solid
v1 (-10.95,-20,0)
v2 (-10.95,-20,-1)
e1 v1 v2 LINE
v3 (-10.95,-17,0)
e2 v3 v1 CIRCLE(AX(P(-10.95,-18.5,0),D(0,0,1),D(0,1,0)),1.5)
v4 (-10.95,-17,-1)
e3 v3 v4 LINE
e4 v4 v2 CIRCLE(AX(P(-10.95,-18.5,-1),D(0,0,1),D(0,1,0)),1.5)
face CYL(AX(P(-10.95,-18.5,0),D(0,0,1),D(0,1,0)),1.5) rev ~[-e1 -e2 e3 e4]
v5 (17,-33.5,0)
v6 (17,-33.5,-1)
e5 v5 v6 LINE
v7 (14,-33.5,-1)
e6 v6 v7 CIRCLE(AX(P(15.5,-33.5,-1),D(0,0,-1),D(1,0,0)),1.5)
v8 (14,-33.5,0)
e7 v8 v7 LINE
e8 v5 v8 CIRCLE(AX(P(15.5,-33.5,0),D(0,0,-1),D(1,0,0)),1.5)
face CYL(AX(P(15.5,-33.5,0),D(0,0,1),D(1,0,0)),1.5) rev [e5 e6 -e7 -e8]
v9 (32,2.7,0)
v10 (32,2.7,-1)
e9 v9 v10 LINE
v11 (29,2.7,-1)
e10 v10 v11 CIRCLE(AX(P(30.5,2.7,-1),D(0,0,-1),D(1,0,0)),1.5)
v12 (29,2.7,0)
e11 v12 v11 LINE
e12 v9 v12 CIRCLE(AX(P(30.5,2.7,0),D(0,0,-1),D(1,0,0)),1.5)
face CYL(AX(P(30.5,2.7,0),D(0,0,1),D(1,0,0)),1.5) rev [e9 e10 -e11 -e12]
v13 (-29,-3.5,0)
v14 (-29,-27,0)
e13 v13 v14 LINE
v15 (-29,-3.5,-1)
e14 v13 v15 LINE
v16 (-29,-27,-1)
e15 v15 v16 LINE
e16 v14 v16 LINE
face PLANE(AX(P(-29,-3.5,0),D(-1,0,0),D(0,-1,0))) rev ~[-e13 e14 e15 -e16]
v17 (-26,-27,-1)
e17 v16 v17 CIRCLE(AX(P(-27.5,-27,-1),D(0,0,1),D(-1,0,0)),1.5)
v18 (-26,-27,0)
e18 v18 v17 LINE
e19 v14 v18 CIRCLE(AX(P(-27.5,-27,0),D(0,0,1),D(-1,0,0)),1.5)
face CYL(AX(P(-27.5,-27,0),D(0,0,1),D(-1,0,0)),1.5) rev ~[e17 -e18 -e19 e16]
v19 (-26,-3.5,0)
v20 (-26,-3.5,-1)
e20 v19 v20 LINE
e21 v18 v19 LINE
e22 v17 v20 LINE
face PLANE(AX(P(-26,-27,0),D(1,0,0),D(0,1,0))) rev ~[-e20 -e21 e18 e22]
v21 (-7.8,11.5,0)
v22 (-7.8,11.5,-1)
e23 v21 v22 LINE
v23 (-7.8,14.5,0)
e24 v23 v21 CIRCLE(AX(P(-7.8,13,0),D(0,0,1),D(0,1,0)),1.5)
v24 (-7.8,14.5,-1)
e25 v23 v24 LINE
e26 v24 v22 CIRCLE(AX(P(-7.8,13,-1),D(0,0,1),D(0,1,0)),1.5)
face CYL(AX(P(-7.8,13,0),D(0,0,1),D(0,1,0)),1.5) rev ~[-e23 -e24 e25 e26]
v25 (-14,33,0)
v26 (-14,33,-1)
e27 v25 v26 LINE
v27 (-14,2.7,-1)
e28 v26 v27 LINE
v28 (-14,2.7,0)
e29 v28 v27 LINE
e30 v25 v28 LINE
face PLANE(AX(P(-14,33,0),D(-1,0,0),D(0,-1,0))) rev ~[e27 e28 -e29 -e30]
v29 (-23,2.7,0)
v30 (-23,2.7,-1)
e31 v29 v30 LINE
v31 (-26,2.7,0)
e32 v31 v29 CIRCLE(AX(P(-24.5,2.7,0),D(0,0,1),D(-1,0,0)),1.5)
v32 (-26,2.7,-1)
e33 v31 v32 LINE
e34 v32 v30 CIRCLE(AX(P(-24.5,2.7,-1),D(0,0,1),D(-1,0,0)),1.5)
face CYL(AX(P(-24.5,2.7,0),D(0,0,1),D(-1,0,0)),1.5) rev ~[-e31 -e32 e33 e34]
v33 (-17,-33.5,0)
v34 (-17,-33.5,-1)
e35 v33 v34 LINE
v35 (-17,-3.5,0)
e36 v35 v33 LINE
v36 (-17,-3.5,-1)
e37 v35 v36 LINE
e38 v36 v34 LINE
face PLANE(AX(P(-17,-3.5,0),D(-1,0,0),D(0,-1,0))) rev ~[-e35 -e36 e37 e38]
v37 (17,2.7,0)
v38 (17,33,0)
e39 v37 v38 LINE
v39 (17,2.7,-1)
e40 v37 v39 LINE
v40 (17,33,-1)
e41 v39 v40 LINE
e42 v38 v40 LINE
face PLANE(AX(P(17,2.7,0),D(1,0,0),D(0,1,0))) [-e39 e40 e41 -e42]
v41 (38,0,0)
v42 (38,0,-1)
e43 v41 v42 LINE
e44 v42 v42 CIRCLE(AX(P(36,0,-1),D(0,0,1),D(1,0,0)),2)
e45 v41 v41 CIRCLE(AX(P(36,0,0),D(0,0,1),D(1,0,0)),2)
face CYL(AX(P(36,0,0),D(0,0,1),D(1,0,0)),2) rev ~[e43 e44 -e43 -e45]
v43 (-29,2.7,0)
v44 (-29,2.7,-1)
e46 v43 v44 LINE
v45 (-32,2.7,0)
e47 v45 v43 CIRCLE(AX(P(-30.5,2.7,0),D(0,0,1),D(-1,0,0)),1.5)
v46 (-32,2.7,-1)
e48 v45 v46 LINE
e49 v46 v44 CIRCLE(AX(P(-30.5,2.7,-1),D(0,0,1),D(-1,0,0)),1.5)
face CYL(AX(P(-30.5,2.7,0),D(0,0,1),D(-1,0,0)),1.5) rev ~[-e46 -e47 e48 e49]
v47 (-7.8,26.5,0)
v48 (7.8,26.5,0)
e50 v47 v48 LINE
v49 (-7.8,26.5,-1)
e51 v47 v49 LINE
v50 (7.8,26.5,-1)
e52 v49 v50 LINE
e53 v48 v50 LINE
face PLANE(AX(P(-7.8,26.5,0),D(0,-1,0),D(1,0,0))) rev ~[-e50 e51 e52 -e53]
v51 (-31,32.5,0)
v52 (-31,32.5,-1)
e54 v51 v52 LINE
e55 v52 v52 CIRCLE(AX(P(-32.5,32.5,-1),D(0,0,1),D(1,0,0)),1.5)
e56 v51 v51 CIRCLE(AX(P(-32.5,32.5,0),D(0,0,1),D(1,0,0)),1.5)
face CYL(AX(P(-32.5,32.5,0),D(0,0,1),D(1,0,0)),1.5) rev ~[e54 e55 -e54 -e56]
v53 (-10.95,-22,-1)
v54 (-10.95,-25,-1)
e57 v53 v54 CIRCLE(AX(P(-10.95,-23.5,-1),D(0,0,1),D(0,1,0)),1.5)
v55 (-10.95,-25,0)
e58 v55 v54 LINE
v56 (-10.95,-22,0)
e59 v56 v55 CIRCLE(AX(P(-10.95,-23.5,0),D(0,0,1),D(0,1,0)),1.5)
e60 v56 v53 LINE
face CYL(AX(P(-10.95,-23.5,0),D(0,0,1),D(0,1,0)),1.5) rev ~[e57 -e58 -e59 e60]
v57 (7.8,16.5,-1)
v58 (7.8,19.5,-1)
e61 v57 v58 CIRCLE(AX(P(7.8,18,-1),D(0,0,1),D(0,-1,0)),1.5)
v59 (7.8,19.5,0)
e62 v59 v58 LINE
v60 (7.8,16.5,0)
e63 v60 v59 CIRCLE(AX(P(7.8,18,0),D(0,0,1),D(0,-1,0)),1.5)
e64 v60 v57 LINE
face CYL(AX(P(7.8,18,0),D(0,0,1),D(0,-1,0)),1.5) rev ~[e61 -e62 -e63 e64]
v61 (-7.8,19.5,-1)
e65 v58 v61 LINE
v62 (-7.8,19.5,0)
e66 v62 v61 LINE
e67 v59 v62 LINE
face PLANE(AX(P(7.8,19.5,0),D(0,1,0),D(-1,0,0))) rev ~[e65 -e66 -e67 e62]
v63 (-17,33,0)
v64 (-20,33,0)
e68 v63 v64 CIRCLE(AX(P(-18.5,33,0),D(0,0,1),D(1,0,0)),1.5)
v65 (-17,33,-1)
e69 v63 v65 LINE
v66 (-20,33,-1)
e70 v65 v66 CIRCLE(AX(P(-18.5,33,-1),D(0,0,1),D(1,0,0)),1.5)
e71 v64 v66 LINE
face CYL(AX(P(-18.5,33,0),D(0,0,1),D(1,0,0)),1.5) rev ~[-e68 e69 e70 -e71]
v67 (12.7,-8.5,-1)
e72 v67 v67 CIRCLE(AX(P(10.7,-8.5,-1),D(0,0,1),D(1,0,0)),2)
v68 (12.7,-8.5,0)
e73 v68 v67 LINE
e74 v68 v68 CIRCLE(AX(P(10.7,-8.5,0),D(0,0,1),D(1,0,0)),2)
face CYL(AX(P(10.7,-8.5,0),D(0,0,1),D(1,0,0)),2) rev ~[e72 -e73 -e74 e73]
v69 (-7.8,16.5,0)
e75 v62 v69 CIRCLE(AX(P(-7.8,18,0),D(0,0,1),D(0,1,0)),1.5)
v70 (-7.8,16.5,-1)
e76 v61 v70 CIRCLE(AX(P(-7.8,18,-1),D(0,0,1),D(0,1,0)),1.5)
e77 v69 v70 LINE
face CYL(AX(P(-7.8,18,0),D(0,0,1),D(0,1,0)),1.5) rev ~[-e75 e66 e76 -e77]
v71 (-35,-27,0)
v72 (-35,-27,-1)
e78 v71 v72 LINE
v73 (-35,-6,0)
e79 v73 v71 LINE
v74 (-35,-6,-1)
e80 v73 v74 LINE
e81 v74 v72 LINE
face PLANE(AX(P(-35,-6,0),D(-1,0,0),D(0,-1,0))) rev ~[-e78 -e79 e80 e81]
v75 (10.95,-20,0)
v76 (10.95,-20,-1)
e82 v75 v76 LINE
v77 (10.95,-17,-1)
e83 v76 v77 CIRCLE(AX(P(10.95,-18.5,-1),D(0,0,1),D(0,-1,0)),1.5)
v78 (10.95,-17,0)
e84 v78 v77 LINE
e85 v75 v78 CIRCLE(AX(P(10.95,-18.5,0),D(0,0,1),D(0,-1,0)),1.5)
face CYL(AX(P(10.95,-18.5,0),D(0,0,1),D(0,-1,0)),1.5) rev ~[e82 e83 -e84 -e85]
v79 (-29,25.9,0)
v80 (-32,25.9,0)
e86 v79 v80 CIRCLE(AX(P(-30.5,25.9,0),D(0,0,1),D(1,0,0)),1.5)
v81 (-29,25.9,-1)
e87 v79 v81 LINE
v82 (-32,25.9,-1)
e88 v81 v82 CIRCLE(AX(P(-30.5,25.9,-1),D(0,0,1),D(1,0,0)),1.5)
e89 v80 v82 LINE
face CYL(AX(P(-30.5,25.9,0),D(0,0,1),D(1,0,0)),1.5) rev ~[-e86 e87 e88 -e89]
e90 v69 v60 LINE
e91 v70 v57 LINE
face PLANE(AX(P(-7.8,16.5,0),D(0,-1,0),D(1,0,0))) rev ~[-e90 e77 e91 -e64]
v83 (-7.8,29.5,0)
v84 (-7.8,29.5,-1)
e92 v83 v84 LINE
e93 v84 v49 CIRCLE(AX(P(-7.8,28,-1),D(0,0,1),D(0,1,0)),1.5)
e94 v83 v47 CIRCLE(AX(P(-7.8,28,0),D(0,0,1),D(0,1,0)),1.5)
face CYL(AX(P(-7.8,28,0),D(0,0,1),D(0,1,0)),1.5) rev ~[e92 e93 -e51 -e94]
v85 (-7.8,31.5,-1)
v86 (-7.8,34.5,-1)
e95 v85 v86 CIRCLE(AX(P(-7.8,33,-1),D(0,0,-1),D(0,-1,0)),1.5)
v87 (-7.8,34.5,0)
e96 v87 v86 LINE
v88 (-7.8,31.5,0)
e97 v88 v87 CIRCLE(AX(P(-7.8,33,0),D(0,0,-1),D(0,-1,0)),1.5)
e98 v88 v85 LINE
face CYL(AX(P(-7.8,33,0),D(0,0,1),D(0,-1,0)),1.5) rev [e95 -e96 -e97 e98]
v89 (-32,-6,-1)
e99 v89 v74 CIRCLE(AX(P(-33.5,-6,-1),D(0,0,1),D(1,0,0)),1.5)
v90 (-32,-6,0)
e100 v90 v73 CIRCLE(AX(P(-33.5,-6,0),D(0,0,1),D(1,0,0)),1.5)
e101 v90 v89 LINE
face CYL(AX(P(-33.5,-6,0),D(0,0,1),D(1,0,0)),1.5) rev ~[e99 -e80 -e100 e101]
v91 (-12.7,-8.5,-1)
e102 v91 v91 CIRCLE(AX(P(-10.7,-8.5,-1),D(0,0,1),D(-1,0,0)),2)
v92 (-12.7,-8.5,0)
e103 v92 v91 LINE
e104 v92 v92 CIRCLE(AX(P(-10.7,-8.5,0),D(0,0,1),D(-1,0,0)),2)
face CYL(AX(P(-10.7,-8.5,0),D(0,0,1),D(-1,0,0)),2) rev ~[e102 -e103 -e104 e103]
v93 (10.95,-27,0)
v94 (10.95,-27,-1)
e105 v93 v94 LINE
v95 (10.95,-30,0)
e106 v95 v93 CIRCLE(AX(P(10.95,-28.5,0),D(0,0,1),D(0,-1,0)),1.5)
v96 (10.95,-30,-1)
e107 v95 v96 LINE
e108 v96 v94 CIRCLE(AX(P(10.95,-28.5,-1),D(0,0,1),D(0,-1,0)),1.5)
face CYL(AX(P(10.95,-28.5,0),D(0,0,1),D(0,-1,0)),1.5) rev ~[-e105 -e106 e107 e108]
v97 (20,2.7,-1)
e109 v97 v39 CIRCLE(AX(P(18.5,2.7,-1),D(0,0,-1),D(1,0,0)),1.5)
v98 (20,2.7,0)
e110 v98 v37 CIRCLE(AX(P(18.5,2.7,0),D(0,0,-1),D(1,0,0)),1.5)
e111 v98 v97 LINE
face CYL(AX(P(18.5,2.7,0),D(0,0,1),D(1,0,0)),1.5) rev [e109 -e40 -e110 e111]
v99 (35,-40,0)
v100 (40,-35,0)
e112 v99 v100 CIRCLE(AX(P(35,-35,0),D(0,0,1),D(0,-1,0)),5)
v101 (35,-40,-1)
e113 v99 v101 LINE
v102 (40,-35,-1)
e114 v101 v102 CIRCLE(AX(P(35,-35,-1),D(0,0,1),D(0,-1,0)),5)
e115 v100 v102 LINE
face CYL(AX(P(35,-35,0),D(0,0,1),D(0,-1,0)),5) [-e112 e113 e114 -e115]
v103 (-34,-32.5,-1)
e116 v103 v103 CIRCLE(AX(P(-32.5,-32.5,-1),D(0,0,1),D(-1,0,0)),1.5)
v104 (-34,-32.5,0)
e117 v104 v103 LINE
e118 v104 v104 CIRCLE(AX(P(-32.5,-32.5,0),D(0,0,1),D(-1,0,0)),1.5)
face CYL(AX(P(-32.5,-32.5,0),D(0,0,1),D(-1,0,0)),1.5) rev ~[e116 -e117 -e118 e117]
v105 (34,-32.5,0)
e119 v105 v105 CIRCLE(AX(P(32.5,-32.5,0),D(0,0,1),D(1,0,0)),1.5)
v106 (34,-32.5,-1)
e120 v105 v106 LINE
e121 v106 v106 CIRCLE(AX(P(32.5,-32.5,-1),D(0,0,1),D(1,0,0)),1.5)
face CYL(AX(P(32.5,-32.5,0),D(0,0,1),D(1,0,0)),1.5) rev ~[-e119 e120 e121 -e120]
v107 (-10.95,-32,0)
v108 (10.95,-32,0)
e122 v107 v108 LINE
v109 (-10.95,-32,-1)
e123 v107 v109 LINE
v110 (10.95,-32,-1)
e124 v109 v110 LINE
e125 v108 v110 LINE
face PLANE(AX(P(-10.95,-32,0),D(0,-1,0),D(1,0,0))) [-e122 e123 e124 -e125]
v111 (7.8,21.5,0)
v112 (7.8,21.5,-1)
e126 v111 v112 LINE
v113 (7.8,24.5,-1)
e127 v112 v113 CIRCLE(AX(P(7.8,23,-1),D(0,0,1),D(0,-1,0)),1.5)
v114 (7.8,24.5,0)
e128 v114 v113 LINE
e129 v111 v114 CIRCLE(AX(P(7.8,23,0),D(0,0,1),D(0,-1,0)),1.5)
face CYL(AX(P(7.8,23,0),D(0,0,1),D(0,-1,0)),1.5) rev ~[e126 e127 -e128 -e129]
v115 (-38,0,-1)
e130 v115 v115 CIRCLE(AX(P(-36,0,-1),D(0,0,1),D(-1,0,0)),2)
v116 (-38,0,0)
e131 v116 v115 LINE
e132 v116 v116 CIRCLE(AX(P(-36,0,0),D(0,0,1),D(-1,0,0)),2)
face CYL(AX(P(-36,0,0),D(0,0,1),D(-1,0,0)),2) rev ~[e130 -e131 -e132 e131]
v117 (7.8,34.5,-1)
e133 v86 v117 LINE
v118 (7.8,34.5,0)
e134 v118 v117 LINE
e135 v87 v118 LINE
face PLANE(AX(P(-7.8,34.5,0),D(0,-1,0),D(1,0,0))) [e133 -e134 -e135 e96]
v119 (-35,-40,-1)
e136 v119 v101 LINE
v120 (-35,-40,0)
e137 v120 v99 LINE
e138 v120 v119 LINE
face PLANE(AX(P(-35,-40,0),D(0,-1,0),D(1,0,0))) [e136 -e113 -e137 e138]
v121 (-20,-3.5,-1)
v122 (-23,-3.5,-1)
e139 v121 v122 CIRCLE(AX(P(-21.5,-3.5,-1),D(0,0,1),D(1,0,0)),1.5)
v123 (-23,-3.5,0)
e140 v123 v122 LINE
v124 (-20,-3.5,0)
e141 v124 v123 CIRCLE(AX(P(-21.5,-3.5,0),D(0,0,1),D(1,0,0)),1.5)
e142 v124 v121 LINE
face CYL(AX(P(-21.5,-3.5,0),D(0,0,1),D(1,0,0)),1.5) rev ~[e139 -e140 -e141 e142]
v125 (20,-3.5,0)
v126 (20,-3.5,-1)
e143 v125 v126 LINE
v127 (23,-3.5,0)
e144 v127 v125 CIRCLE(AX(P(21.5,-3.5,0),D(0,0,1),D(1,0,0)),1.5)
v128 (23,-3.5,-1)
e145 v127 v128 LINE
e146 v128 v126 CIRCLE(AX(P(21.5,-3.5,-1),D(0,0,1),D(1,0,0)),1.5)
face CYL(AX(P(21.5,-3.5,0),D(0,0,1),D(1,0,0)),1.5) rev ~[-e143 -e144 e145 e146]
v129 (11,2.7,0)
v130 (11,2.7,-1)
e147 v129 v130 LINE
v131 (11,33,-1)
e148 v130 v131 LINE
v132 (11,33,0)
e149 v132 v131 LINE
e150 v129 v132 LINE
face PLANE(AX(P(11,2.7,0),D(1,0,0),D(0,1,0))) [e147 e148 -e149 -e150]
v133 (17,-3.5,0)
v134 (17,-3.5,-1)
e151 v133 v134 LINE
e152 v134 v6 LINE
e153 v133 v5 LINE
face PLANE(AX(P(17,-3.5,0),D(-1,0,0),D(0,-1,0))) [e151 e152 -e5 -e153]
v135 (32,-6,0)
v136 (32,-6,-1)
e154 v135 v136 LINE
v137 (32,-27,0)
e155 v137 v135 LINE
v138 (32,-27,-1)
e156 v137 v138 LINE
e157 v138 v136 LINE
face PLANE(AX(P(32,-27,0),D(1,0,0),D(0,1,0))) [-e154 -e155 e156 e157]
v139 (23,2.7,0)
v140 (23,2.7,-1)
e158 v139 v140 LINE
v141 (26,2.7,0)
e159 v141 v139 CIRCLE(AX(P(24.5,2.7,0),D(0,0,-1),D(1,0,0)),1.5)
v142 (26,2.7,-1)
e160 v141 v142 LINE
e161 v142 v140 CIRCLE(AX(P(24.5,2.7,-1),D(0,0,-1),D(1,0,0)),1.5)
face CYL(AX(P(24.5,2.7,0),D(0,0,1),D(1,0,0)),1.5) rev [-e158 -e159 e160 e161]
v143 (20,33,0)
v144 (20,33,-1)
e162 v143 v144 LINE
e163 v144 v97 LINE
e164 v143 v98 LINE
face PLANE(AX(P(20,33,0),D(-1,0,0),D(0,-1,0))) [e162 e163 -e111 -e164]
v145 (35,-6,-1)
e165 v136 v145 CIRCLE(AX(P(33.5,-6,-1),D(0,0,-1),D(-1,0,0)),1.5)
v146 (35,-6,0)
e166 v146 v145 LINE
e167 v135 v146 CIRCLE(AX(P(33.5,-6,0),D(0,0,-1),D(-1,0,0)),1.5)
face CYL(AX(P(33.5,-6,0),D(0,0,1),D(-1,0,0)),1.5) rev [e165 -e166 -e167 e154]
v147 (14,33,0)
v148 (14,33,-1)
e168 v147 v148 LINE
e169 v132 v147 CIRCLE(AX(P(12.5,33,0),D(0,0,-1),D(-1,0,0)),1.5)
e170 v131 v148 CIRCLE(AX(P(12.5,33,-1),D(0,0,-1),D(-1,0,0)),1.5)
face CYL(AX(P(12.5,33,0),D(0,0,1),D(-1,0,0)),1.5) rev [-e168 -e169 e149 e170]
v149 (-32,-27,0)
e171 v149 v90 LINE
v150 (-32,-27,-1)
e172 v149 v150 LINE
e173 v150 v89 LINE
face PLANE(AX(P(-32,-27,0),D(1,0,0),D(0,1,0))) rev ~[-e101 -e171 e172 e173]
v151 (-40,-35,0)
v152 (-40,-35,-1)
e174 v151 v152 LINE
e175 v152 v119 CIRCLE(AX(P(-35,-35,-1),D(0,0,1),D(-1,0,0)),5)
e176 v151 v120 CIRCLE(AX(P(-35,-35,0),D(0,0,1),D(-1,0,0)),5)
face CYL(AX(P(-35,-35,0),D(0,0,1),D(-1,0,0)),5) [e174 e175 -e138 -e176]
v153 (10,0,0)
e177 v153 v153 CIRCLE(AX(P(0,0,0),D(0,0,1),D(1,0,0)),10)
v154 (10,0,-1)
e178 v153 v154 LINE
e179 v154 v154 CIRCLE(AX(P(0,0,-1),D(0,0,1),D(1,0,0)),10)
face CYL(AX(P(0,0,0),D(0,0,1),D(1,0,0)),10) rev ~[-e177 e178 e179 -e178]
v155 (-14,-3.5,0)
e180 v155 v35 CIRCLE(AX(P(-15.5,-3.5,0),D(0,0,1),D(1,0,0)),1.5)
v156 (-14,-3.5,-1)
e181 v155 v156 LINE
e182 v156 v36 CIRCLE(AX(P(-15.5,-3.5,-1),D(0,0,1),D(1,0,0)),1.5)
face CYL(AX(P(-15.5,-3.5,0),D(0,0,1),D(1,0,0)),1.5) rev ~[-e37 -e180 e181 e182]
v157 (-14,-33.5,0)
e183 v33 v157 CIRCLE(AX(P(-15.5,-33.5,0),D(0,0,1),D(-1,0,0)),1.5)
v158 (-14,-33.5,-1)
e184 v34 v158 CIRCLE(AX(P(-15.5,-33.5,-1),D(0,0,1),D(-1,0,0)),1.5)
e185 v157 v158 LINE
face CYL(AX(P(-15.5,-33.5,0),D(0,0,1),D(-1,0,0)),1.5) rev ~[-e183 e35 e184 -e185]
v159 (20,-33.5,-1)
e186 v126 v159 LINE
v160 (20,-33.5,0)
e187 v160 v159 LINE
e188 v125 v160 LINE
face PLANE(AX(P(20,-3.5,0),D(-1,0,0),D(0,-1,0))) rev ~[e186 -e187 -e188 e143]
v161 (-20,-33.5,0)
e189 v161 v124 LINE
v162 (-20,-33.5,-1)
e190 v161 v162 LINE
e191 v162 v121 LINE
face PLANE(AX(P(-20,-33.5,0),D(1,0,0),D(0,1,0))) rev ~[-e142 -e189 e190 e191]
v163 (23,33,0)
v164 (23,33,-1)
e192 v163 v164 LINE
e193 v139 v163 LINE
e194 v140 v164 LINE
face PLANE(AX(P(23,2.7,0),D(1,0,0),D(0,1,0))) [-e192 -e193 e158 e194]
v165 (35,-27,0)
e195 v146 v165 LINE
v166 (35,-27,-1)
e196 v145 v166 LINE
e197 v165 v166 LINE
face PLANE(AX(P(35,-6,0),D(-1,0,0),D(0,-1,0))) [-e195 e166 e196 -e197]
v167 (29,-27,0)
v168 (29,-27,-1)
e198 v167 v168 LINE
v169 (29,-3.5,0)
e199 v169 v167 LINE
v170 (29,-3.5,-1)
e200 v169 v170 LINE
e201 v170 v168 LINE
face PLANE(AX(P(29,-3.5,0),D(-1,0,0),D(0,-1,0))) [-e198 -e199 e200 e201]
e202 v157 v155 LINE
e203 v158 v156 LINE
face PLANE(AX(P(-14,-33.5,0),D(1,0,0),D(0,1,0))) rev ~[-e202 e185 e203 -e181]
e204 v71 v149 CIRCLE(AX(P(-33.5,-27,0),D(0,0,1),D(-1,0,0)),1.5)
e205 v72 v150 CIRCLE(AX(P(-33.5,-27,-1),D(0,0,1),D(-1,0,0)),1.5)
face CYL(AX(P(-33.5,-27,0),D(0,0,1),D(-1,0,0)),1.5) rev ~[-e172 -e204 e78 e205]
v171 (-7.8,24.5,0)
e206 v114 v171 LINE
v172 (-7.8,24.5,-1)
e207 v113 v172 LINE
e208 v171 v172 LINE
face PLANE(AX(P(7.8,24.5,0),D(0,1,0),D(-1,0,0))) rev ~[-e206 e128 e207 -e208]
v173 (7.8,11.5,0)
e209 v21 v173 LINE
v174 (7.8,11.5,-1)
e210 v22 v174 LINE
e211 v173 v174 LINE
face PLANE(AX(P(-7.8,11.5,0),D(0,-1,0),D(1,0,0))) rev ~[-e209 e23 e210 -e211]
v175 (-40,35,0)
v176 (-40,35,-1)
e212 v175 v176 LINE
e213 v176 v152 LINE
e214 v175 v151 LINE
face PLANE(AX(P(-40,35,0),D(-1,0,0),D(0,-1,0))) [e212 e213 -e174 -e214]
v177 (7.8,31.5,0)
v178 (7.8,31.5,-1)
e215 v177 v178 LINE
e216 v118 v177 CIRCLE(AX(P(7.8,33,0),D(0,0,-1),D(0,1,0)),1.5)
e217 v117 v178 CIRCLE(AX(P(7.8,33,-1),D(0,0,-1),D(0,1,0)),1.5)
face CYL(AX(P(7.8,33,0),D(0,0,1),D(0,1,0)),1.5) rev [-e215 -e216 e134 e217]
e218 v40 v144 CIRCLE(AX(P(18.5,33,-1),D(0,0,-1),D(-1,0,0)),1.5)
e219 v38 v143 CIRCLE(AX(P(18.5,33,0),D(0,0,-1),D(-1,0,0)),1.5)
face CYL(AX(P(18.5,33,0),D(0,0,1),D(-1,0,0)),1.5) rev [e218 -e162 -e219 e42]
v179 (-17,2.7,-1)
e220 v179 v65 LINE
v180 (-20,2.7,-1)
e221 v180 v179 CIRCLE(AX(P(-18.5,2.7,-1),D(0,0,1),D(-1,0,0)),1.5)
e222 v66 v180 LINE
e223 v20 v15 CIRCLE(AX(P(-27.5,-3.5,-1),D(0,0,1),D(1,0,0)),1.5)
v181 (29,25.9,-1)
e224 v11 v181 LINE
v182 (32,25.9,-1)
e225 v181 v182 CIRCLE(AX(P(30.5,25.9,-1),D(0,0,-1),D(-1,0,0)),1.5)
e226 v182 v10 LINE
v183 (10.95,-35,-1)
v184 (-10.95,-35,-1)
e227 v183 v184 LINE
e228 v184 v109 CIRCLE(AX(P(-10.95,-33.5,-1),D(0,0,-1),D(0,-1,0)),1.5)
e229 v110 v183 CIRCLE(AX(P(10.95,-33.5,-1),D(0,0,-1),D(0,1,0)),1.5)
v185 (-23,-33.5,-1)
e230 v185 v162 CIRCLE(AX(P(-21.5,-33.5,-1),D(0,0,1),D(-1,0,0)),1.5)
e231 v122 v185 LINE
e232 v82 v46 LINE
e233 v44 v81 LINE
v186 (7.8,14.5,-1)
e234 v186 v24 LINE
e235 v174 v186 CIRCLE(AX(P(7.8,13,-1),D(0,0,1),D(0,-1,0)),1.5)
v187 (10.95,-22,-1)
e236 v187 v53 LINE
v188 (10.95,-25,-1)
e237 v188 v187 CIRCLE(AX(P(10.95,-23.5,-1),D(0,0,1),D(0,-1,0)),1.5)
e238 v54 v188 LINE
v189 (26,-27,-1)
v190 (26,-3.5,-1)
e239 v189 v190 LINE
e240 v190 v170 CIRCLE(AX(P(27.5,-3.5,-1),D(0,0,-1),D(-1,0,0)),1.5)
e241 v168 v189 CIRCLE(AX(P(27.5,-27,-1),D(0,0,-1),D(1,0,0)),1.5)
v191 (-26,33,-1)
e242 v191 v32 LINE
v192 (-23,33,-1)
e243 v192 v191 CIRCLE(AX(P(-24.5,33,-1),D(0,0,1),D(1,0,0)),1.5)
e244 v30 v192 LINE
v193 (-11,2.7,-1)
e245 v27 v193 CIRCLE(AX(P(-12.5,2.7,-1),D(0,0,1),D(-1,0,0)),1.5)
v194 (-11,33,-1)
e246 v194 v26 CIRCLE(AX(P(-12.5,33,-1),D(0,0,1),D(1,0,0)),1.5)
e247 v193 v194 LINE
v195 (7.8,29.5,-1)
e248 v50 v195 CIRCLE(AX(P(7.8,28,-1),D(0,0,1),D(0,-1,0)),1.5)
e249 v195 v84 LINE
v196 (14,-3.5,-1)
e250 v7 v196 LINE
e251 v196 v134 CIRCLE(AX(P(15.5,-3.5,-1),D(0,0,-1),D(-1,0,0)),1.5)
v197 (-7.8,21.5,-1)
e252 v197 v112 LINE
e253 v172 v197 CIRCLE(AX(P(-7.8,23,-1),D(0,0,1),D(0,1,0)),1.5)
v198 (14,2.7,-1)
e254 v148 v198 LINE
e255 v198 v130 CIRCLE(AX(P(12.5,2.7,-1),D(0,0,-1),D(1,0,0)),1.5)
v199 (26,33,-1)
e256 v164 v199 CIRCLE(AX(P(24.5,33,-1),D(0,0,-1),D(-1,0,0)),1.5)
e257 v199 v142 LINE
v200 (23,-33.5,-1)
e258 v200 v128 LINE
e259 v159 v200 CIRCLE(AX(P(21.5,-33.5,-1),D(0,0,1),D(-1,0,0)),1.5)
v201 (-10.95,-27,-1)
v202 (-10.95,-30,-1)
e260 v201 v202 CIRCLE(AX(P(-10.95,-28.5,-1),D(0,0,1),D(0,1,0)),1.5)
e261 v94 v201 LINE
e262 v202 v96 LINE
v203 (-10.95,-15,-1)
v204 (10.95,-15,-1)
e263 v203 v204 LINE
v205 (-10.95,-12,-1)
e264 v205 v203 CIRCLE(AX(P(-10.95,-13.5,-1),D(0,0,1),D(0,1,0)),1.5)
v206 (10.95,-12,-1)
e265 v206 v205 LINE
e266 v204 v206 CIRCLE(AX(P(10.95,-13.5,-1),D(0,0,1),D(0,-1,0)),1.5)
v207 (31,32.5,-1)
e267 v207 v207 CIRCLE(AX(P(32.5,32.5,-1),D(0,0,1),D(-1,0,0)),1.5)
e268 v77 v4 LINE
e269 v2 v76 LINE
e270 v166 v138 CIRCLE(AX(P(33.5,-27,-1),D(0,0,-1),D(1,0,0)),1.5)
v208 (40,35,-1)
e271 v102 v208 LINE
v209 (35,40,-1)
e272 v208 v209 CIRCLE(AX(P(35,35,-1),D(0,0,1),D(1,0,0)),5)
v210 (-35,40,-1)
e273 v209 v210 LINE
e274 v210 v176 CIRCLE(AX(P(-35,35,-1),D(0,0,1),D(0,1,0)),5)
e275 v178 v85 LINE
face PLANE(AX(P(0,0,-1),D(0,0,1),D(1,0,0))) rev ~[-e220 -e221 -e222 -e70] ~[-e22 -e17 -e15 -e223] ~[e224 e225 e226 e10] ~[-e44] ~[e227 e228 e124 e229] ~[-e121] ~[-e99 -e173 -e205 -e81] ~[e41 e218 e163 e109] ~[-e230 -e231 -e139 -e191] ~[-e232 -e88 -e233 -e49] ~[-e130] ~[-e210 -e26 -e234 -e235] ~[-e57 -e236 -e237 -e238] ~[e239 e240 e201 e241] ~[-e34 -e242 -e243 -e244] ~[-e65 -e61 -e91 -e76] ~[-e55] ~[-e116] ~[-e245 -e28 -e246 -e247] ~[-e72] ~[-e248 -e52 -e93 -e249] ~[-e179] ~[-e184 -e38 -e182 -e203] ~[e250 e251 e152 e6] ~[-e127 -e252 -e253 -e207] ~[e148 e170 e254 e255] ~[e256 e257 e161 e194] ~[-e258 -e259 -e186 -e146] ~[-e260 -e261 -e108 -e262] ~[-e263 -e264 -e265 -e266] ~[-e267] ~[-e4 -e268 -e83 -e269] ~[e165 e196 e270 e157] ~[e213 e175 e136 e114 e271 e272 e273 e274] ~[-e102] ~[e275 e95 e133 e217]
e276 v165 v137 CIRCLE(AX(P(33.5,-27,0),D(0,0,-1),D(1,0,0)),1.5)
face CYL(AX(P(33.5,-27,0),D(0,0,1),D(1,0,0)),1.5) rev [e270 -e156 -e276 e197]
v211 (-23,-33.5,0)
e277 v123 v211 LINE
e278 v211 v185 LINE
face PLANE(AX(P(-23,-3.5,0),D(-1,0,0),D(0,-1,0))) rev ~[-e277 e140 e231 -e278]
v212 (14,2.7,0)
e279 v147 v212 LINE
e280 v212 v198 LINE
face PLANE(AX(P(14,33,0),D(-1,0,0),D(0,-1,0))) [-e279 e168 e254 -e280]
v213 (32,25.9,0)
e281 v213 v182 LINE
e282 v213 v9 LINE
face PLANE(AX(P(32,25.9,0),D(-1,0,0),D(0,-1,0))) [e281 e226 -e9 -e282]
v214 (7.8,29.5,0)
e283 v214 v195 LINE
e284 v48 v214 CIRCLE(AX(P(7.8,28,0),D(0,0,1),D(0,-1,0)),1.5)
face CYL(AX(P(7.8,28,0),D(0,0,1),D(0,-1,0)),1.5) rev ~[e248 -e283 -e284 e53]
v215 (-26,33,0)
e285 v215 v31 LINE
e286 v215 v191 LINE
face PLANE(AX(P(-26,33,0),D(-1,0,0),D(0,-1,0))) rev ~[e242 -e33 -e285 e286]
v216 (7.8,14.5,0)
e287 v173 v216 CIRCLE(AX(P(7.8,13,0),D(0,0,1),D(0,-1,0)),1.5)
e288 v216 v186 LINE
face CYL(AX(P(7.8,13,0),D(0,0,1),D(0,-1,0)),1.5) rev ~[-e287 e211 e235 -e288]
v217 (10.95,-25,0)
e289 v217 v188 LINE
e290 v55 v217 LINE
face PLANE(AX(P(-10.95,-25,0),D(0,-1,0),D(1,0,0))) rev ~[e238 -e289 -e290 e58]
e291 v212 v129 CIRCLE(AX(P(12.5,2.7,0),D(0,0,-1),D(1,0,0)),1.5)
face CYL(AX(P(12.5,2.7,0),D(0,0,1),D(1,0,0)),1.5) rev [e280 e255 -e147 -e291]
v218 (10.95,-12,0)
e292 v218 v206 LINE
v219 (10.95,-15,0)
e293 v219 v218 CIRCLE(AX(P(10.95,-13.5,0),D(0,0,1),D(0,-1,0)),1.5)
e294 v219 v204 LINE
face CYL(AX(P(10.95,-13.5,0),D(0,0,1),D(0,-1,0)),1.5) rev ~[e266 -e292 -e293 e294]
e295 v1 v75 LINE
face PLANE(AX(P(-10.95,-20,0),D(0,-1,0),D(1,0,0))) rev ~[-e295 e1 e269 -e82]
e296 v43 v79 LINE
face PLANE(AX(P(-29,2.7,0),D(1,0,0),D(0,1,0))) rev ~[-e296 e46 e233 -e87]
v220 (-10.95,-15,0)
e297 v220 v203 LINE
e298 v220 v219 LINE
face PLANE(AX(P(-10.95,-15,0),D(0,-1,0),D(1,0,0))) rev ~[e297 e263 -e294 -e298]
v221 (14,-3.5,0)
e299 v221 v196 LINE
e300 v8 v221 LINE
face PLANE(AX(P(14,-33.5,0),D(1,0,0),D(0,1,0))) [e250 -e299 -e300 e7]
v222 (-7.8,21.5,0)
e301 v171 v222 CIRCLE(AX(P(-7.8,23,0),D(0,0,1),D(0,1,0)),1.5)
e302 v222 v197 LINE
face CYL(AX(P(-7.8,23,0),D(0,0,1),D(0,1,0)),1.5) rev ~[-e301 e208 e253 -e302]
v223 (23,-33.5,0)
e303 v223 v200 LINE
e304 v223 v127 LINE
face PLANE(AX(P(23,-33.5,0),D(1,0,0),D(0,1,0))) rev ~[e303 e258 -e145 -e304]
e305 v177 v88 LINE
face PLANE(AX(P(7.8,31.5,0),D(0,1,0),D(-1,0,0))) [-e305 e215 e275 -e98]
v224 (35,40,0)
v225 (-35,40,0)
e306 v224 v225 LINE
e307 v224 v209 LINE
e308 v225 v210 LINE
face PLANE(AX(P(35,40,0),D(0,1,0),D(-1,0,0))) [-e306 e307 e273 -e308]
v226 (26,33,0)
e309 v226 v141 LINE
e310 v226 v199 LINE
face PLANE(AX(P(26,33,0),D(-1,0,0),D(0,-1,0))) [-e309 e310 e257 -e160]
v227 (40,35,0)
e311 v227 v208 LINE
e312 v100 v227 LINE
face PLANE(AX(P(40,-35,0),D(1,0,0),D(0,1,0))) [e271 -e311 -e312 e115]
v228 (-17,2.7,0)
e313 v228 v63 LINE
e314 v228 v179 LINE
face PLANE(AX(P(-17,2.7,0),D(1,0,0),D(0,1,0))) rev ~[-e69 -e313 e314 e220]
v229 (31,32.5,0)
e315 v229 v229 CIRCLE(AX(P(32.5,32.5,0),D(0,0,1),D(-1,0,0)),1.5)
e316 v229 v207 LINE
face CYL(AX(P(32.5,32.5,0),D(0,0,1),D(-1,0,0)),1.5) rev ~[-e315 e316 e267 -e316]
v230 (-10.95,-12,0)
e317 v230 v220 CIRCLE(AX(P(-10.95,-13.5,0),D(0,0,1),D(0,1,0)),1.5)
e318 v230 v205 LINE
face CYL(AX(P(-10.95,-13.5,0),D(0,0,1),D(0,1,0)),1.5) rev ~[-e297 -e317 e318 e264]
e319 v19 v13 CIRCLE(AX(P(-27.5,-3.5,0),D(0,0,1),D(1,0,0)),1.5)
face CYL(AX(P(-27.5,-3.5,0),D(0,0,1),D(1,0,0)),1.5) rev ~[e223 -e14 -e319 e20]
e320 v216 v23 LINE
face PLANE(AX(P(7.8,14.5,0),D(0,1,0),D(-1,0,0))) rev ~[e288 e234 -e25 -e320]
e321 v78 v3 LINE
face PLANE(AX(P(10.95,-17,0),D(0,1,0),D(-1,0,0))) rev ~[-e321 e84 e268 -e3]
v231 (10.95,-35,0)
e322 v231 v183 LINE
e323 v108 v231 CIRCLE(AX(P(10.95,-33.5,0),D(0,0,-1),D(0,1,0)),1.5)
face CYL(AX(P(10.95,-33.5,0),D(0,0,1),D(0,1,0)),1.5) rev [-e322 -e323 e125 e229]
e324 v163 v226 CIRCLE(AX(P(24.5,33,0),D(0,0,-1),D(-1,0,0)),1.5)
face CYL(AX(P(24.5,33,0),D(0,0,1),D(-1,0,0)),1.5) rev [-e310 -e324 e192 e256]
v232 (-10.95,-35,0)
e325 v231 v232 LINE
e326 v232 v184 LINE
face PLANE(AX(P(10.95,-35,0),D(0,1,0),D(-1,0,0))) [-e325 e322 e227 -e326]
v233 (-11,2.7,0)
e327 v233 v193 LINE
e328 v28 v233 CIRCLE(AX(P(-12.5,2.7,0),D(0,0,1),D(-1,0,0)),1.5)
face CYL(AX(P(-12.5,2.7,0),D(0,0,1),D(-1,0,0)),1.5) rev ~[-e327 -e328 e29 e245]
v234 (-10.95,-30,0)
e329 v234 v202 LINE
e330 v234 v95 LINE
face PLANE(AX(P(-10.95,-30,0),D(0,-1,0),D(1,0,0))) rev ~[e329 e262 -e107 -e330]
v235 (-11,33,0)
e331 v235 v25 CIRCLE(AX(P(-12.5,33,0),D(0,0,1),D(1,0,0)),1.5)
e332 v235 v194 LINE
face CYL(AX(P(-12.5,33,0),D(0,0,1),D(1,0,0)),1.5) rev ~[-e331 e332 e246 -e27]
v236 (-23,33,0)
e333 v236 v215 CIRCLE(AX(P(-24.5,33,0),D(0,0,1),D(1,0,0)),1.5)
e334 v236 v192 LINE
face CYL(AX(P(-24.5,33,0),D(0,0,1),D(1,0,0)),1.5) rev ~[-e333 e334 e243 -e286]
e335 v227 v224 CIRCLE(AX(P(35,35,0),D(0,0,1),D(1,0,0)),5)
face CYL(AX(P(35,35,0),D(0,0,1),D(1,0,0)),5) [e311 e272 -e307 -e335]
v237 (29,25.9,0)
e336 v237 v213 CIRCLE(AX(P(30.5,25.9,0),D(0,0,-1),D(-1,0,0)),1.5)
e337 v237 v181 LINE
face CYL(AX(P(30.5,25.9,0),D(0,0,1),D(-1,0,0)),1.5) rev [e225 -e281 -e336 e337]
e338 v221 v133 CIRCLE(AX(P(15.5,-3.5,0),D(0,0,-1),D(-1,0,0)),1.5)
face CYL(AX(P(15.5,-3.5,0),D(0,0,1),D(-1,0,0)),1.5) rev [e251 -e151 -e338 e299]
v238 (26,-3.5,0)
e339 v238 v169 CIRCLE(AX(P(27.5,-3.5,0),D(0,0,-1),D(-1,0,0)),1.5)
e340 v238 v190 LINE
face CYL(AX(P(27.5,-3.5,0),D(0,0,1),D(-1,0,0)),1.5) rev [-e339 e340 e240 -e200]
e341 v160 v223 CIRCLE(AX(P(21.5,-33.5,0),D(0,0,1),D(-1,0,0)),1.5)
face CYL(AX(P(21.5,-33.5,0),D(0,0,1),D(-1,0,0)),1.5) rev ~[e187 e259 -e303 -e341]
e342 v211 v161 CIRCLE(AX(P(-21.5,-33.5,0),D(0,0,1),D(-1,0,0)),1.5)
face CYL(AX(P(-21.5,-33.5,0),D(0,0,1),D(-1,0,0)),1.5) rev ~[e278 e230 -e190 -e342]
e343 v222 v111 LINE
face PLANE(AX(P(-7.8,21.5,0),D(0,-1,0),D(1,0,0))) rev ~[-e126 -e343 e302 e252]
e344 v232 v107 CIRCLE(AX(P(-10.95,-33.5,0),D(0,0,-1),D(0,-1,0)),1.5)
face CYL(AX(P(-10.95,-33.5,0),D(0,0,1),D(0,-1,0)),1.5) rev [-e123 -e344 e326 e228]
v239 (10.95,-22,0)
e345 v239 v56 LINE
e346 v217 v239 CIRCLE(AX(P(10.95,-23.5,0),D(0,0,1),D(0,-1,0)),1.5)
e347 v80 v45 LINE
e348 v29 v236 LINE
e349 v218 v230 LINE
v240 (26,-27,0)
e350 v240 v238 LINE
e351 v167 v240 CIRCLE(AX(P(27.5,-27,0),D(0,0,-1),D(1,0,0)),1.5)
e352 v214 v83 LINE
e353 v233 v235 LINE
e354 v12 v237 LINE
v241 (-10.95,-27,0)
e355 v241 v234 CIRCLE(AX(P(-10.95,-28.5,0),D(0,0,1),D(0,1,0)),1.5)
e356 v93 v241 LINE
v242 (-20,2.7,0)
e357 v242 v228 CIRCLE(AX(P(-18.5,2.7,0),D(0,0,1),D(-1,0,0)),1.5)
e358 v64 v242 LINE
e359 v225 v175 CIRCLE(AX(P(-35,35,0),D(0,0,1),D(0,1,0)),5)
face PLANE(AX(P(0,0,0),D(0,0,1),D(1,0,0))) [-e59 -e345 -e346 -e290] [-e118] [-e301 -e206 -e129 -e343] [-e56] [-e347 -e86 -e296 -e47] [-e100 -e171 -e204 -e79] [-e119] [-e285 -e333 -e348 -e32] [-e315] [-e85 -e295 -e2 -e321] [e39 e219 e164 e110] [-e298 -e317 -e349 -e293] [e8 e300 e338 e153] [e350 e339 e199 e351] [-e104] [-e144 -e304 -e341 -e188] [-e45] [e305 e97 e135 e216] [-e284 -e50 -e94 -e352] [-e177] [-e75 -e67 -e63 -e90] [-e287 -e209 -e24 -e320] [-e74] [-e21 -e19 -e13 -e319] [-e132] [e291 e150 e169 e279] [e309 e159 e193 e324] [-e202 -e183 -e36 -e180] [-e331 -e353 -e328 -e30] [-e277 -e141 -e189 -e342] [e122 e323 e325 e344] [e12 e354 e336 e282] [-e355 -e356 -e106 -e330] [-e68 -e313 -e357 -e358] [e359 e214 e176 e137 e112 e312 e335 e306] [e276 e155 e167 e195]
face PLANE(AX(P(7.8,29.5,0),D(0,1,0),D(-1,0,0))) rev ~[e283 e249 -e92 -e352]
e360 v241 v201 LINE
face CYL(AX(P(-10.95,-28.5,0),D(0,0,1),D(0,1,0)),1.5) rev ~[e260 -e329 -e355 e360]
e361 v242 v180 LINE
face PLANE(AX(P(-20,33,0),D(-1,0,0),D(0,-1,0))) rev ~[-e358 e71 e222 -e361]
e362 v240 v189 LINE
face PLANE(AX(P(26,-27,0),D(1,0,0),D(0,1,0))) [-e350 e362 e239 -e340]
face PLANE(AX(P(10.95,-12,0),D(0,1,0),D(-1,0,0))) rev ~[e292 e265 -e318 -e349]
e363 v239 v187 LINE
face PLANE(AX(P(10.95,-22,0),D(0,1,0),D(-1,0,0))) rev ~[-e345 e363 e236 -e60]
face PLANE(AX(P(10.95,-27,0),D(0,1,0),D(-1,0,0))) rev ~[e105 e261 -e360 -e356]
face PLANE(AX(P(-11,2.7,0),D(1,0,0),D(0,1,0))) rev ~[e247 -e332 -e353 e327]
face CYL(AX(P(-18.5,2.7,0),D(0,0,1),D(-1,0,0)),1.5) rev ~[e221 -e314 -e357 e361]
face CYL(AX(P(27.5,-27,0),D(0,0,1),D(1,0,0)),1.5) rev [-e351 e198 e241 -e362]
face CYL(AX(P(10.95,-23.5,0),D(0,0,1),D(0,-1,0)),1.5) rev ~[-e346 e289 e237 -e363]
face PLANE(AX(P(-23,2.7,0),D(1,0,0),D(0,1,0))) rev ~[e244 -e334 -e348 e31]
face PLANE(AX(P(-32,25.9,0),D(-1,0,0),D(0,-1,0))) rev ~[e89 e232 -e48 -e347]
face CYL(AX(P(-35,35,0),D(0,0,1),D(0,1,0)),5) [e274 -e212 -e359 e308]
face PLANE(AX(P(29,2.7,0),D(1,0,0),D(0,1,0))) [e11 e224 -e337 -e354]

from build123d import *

# Parameters (mm, degrees)
CROQUIS1_R              = 10
SALIENTE_EXTRUIR1_DEPTH = 1
CROQUIS2_R              = 2
CROQUIS2_R_2            = 1.5
CORTAR_EXTRUIR1_DEPTH   = 1
CORTAR_EXTRUIR2_DEPTH   = 1
CORTAR_EXTRUIR3_DEPTH   = 1
CORTAR_EXTRUIR4_DEPTH   = 1


with BuildPart() as part:
    # Croquis1 → Saliente-Extruir1 (new body)
    with BuildSketch(Plane.XY):
        with BuildLine():
            Line((-35, -40), (35, -40))
            ThreePointArc((35, -40), (38.535533906, -38.535533906), (40, -35))
            Line((40, -35), (40, 35))
            ThreePointArc((40, 35), (38.535533906, 38.535533906), (35, 40))
            Line((35, 40), (-35, 40))
            ThreePointArc((-35, 40), (-38.535533906, 38.535533906), (-40, 35))
            Line((-40, 35), (-40, -35))
            ThreePointArc((-40, -35), (-38.535533906, -38.535533906), (-35, -40))
        make_face()
        Circle(CROQUIS1_R, mode=Mode.SUBTRACT)
    extrude(amount=-SALIENTE_EXTRUIR1_DEPTH)

    # Croquis2 → Cortar-Extruir1 (cut)
    with BuildSketch(Plane.XY):
        with Locations((36, 0)):
            Circle(CROQUIS2_R)
        with Locations(Location((-36, 0, 0), (0, 0, 180))):
            Circle(CROQUIS2_R)
        with Locations((32.5, -32.5)):
            Circle(CROQUIS2_R_2)
        with Locations(Location((32.5, 32.5, 0), (0, 0, 180))):
            Circle(CROQUIS2_R_2)
        with Locations(Location((-32.5, -32.5, 0), (0, 0, 180))):
            Circle(CROQUIS2_R_2)
        with Locations((-32.5, 32.5)):
            Circle(CROQUIS2_R_2)
        with Locations((10.7, -8.5)):
            Circle(CROQUIS2_R)
        with Locations(Location((-10.7, -8.5, 0), (0, 0, 180))):
            Circle(CROQUIS2_R)
    extrude(amount=-CORTAR_EXTRUIR1_DEPTH, mode=Mode.SUBTRACT)

    # Croquis3 → Cortar-Extruir2 (cut)
    with BuildSketch(Plane.XY):
        with BuildLine():
            Line((-7.8, 26.5), (7.8, 26.5))
            ThreePointArc((7.8, 26.5), (9.3, 28), (7.8, 29.5))
            Line((7.8, 29.5), (-7.8, 29.5))
            ThreePointArc((-7.8, 29.5), (-9.3, 28), (-7.8, 26.5))
        make_face()
        with BuildLine():
            Line((-7.8, 34.5), (7.8, 34.5))
            ThreePointArc((7.8, 34.5), (9.3, 33), (7.8, 31.5))
            Line((7.8, 31.5), (-7.8, 31.5))
            ThreePointArc((-7.8, 31.5), (-9.3, 33), (-7.8, 34.5))
        make_face()
        with BuildLine():
            Line((-7.8, 21.5), (7.8, 21.5))
            ThreePointArc((7.8, 21.5), (9.3, 23), (7.8, 24.5))
            Line((7.8, 24.5), (-7.8, 24.5))
            ThreePointArc((-7.8, 24.5), (-9.3, 23), (-7.8, 21.5))
        make_face()
        with BuildLine():
            Line((-7.8, 16.5), (7.8, 16.5))
            ThreePointArc((7.8, 16.5), (9.3, 18), (7.8, 19.5))
            Line((7.8, 19.5), (-7.8, 19.5))
            ThreePointArc((-7.8, 19.5), (-9.3, 18), (-7.8, 16.5))
        make_face()
        with BuildLine():
            Line((-7.8, 11.5), (7.8, 11.5))
            ThreePointArc((7.8, 11.5), (9.3, 13), (7.8, 14.5))
            Line((7.8, 14.5), (-7.8, 14.5))
            ThreePointArc((-7.8, 14.5), (-9.3, 13), (-7.8, 11.5))
        make_face()
        with BuildLine():
            Line((-10.95, -30), (10.95, -30))
            ThreePointArc((10.95, -30), (12.45, -28.5), (10.95, -27))
            Line((10.95, -27), (-10.95, -27))
            ThreePointArc((-10.95, -27), (-12.45, -28.5), (-10.95, -30))
        make_face()
        with BuildLine():
            Line((-10.95, -32), (10.95, -32))
            ThreePointArc((10.95, -32), (12.45, -33.5), (10.95, -35))
            Line((10.95, -35), (-10.95, -35))
            ThreePointArc((-10.95, -35), (-12.45, -33.5), (-10.95, -32))
        make_face()
        with BuildLine():
            Line((-10.95, -25), (10.95, -25))
            ThreePointArc((10.95, -25), (12.45, -23.5), (10.95, -22))
            Line((10.95, -22), (-10.95, -22))
            ThreePointArc((-10.95, -22), (-12.45, -23.5), (-10.95, -25))
        make_face()
        with BuildLine():
            Line((-10.95, -20), (10.95, -20))
            ThreePointArc((10.95, -20), (12.45, -18.5), (10.95, -17))
            Line((10.95, -17), (-10.95, -17))
            ThreePointArc((-10.95, -17), (-12.45, -18.5), (-10.95, -20))
        make_face()
        with BuildLine():
            Line((-10.95, -15), (10.95, -15))
            ThreePointArc((10.95, -15), (12.45, -13.5), (10.95, -12))
            Line((10.95, -12), (-10.95, -12))
            ThreePointArc((-10.95, -12), (-12.45, -13.5), (-10.95, -15))
        make_face()
    extrude(amount=-CORTAR_EXTRUIR2_DEPTH, mode=Mode.SUBTRACT)

    # Croquis4 → Cortar-Extruir3 (cut)
    with BuildSketch(Plane.XY):
        with BuildLine():
            Line((11, 2.7), (11, 33))
            ThreePointArc((11, 33), (12.5, 34.5), (14, 33))
            Line((14, 33), (14, 2.7))
            ThreePointArc((14, 2.7), (12.5, 1.2), (11, 2.7))
        make_face()
        with BuildLine():
            Line((17, 2.7), (17, 33))
            ThreePointArc((17, 33), (18.5, 34.5), (20, 33))
            Line((20, 33), (20, 2.7))
            ThreePointArc((20, 2.7), (18.5, 1.2), (17, 2.7))
        make_face()
        with BuildLine():
            Line((23, 2.7), (23, 33))
            ThreePointArc((23, 33), (24.5, 34.5), (26, 33))
            Line((26, 33), (26, 2.7))
            ThreePointArc((26, 2.7), (24.5, 1.2), (23, 2.7))
        make_face()
        with BuildLine():
            Line((32, 25.9), (32, 2.7))
            ThreePointArc((32, 2.7), (30.5, 1.2), (29, 2.7))
            Line((29, 2.7), (29, 25.9))
            ThreePointArc((29, 25.9), (30.5, 27.4), (32, 25.9))
        make_face()
        with BuildLine():
            Line((-11, 2.7), (-11, 33))
            ThreePointArc((-11, 33), (-12.5, 34.5), (-14, 33))
            Line((-14, 33), (-14, 2.7))
            ThreePointArc((-14, 2.7), (-12.5, 1.2), (-11, 2.7))
        make_face()
        with BuildLine():
            Line((-17, 2.7), (-17, 33))
            ThreePointArc((-17, 33), (-18.5, 34.5), (-20, 33))
            Line((-20, 33), (-20, 2.7))
            ThreePointArc((-20, 2.7), (-18.5, 1.2), (-17, 2.7))
        make_face()
        with BuildLine():
            Line((-23, 2.7), (-23, 33))
            ThreePointArc((-23, 33), (-24.5, 34.5), (-26, 33))
            Line((-26, 33), (-26, 2.7))
            ThreePointArc((-26, 2.7), (-24.5, 1.2), (-23, 2.7))
        make_face()
        with BuildLine():
            Line((-32, 25.9), (-32, 2.7))
            ThreePointArc((-32, 2.7), (-30.5, 1.2), (-29, 2.7))
            Line((-29, 2.7), (-29, 25.9))
            ThreePointArc((-29, 25.9), (-30.5, 27.4), (-32, 25.9))
        make_face()
    extrude(amount=-CORTAR_EXTRUIR3_DEPTH, mode=Mode.SUBTRACT)

    # Croquis5 → Cortar-Extruir4 (cut)
    with BuildSketch(Plane.XY):
        with BuildLine():
            Line((17, -3.5), (17, -33.5))
            ThreePointArc((17, -33.5), (15.5, -35), (14, -33.5))
            Line((14, -33.5), (14, -3.5))
            ThreePointArc((14, -3.5), (15.5, -2), (17, -3.5))
        make_face()
        with BuildLine():
            Line((20, -3.5), (20, -33.5))
            ThreePointArc((20, -33.5), (21.5, -35), (23, -33.5))
            Line((23, -33.5), (23, -3.5))
            ThreePointArc((23, -3.5), (21.5, -2), (20, -3.5))
        make_face()
        with BuildLine():
            Line((29, -3.5), (29, -27))
            ThreePointArc((29, -27), (27.5, -28.5), (26, -27))
            Line((26, -27), (26, -3.5))
            ThreePointArc((26, -3.5), (27.5, -2), (29, -3.5))
        make_face()
        with BuildLine():
            Line((32, -27), (32, -6))
            ThreePointArc((32, -6), (33.5, -4.5), (35, -6))
            Line((35, -6), (35, -27))
            ThreePointArc((35, -27), (33.5, -28.5), (32, -27))
        make_face()
        with BuildLine():
            Line((-17, -3.5), (-17, -33.5))
            ThreePointArc((-17, -33.5), (-15.5, -35), (-14, -33.5))
            Line((-14, -33.5), (-14, -3.5))
            ThreePointArc((-14, -3.5), (-15.5, -2), (-17, -3.5))
        make_face()
        with BuildLine():
            Line((-23, -3.5), (-23, -33.5))
            ThreePointArc((-23, -33.5), (-21.5, -35), (-20, -33.5))
            Line((-20, -33.5), (-20, -3.5))
            ThreePointArc((-20, -3.5), (-21.5, -2), (-23, -3.5))
        make_face()
        with BuildLine():
            Line((-29, -3.5), (-29, -27))
            ThreePointArc((-29, -27), (-27.5, -28.5), (-26, -27))
            Line((-26, -27), (-26, -3.5))
            ThreePointArc((-26, -3.5), (-27.5, -2), (-29, -3.5))
        make_face()
        with BuildLine():
            Line((-32, -27), (-32, -6))
            ThreePointArc((-32, -6), (-33.5, -4.5), (-35, -6))
            Line((-35, -6), (-35, -27))
            ThreePointArc((-35, -27), (-33.5, -28.5), (-32, -27))
        make_face()
    extrude(amount=-CORTAR_EXTRUIR4_DEPTH, mode=Mode.SUBTRACT)


solid = part.part
